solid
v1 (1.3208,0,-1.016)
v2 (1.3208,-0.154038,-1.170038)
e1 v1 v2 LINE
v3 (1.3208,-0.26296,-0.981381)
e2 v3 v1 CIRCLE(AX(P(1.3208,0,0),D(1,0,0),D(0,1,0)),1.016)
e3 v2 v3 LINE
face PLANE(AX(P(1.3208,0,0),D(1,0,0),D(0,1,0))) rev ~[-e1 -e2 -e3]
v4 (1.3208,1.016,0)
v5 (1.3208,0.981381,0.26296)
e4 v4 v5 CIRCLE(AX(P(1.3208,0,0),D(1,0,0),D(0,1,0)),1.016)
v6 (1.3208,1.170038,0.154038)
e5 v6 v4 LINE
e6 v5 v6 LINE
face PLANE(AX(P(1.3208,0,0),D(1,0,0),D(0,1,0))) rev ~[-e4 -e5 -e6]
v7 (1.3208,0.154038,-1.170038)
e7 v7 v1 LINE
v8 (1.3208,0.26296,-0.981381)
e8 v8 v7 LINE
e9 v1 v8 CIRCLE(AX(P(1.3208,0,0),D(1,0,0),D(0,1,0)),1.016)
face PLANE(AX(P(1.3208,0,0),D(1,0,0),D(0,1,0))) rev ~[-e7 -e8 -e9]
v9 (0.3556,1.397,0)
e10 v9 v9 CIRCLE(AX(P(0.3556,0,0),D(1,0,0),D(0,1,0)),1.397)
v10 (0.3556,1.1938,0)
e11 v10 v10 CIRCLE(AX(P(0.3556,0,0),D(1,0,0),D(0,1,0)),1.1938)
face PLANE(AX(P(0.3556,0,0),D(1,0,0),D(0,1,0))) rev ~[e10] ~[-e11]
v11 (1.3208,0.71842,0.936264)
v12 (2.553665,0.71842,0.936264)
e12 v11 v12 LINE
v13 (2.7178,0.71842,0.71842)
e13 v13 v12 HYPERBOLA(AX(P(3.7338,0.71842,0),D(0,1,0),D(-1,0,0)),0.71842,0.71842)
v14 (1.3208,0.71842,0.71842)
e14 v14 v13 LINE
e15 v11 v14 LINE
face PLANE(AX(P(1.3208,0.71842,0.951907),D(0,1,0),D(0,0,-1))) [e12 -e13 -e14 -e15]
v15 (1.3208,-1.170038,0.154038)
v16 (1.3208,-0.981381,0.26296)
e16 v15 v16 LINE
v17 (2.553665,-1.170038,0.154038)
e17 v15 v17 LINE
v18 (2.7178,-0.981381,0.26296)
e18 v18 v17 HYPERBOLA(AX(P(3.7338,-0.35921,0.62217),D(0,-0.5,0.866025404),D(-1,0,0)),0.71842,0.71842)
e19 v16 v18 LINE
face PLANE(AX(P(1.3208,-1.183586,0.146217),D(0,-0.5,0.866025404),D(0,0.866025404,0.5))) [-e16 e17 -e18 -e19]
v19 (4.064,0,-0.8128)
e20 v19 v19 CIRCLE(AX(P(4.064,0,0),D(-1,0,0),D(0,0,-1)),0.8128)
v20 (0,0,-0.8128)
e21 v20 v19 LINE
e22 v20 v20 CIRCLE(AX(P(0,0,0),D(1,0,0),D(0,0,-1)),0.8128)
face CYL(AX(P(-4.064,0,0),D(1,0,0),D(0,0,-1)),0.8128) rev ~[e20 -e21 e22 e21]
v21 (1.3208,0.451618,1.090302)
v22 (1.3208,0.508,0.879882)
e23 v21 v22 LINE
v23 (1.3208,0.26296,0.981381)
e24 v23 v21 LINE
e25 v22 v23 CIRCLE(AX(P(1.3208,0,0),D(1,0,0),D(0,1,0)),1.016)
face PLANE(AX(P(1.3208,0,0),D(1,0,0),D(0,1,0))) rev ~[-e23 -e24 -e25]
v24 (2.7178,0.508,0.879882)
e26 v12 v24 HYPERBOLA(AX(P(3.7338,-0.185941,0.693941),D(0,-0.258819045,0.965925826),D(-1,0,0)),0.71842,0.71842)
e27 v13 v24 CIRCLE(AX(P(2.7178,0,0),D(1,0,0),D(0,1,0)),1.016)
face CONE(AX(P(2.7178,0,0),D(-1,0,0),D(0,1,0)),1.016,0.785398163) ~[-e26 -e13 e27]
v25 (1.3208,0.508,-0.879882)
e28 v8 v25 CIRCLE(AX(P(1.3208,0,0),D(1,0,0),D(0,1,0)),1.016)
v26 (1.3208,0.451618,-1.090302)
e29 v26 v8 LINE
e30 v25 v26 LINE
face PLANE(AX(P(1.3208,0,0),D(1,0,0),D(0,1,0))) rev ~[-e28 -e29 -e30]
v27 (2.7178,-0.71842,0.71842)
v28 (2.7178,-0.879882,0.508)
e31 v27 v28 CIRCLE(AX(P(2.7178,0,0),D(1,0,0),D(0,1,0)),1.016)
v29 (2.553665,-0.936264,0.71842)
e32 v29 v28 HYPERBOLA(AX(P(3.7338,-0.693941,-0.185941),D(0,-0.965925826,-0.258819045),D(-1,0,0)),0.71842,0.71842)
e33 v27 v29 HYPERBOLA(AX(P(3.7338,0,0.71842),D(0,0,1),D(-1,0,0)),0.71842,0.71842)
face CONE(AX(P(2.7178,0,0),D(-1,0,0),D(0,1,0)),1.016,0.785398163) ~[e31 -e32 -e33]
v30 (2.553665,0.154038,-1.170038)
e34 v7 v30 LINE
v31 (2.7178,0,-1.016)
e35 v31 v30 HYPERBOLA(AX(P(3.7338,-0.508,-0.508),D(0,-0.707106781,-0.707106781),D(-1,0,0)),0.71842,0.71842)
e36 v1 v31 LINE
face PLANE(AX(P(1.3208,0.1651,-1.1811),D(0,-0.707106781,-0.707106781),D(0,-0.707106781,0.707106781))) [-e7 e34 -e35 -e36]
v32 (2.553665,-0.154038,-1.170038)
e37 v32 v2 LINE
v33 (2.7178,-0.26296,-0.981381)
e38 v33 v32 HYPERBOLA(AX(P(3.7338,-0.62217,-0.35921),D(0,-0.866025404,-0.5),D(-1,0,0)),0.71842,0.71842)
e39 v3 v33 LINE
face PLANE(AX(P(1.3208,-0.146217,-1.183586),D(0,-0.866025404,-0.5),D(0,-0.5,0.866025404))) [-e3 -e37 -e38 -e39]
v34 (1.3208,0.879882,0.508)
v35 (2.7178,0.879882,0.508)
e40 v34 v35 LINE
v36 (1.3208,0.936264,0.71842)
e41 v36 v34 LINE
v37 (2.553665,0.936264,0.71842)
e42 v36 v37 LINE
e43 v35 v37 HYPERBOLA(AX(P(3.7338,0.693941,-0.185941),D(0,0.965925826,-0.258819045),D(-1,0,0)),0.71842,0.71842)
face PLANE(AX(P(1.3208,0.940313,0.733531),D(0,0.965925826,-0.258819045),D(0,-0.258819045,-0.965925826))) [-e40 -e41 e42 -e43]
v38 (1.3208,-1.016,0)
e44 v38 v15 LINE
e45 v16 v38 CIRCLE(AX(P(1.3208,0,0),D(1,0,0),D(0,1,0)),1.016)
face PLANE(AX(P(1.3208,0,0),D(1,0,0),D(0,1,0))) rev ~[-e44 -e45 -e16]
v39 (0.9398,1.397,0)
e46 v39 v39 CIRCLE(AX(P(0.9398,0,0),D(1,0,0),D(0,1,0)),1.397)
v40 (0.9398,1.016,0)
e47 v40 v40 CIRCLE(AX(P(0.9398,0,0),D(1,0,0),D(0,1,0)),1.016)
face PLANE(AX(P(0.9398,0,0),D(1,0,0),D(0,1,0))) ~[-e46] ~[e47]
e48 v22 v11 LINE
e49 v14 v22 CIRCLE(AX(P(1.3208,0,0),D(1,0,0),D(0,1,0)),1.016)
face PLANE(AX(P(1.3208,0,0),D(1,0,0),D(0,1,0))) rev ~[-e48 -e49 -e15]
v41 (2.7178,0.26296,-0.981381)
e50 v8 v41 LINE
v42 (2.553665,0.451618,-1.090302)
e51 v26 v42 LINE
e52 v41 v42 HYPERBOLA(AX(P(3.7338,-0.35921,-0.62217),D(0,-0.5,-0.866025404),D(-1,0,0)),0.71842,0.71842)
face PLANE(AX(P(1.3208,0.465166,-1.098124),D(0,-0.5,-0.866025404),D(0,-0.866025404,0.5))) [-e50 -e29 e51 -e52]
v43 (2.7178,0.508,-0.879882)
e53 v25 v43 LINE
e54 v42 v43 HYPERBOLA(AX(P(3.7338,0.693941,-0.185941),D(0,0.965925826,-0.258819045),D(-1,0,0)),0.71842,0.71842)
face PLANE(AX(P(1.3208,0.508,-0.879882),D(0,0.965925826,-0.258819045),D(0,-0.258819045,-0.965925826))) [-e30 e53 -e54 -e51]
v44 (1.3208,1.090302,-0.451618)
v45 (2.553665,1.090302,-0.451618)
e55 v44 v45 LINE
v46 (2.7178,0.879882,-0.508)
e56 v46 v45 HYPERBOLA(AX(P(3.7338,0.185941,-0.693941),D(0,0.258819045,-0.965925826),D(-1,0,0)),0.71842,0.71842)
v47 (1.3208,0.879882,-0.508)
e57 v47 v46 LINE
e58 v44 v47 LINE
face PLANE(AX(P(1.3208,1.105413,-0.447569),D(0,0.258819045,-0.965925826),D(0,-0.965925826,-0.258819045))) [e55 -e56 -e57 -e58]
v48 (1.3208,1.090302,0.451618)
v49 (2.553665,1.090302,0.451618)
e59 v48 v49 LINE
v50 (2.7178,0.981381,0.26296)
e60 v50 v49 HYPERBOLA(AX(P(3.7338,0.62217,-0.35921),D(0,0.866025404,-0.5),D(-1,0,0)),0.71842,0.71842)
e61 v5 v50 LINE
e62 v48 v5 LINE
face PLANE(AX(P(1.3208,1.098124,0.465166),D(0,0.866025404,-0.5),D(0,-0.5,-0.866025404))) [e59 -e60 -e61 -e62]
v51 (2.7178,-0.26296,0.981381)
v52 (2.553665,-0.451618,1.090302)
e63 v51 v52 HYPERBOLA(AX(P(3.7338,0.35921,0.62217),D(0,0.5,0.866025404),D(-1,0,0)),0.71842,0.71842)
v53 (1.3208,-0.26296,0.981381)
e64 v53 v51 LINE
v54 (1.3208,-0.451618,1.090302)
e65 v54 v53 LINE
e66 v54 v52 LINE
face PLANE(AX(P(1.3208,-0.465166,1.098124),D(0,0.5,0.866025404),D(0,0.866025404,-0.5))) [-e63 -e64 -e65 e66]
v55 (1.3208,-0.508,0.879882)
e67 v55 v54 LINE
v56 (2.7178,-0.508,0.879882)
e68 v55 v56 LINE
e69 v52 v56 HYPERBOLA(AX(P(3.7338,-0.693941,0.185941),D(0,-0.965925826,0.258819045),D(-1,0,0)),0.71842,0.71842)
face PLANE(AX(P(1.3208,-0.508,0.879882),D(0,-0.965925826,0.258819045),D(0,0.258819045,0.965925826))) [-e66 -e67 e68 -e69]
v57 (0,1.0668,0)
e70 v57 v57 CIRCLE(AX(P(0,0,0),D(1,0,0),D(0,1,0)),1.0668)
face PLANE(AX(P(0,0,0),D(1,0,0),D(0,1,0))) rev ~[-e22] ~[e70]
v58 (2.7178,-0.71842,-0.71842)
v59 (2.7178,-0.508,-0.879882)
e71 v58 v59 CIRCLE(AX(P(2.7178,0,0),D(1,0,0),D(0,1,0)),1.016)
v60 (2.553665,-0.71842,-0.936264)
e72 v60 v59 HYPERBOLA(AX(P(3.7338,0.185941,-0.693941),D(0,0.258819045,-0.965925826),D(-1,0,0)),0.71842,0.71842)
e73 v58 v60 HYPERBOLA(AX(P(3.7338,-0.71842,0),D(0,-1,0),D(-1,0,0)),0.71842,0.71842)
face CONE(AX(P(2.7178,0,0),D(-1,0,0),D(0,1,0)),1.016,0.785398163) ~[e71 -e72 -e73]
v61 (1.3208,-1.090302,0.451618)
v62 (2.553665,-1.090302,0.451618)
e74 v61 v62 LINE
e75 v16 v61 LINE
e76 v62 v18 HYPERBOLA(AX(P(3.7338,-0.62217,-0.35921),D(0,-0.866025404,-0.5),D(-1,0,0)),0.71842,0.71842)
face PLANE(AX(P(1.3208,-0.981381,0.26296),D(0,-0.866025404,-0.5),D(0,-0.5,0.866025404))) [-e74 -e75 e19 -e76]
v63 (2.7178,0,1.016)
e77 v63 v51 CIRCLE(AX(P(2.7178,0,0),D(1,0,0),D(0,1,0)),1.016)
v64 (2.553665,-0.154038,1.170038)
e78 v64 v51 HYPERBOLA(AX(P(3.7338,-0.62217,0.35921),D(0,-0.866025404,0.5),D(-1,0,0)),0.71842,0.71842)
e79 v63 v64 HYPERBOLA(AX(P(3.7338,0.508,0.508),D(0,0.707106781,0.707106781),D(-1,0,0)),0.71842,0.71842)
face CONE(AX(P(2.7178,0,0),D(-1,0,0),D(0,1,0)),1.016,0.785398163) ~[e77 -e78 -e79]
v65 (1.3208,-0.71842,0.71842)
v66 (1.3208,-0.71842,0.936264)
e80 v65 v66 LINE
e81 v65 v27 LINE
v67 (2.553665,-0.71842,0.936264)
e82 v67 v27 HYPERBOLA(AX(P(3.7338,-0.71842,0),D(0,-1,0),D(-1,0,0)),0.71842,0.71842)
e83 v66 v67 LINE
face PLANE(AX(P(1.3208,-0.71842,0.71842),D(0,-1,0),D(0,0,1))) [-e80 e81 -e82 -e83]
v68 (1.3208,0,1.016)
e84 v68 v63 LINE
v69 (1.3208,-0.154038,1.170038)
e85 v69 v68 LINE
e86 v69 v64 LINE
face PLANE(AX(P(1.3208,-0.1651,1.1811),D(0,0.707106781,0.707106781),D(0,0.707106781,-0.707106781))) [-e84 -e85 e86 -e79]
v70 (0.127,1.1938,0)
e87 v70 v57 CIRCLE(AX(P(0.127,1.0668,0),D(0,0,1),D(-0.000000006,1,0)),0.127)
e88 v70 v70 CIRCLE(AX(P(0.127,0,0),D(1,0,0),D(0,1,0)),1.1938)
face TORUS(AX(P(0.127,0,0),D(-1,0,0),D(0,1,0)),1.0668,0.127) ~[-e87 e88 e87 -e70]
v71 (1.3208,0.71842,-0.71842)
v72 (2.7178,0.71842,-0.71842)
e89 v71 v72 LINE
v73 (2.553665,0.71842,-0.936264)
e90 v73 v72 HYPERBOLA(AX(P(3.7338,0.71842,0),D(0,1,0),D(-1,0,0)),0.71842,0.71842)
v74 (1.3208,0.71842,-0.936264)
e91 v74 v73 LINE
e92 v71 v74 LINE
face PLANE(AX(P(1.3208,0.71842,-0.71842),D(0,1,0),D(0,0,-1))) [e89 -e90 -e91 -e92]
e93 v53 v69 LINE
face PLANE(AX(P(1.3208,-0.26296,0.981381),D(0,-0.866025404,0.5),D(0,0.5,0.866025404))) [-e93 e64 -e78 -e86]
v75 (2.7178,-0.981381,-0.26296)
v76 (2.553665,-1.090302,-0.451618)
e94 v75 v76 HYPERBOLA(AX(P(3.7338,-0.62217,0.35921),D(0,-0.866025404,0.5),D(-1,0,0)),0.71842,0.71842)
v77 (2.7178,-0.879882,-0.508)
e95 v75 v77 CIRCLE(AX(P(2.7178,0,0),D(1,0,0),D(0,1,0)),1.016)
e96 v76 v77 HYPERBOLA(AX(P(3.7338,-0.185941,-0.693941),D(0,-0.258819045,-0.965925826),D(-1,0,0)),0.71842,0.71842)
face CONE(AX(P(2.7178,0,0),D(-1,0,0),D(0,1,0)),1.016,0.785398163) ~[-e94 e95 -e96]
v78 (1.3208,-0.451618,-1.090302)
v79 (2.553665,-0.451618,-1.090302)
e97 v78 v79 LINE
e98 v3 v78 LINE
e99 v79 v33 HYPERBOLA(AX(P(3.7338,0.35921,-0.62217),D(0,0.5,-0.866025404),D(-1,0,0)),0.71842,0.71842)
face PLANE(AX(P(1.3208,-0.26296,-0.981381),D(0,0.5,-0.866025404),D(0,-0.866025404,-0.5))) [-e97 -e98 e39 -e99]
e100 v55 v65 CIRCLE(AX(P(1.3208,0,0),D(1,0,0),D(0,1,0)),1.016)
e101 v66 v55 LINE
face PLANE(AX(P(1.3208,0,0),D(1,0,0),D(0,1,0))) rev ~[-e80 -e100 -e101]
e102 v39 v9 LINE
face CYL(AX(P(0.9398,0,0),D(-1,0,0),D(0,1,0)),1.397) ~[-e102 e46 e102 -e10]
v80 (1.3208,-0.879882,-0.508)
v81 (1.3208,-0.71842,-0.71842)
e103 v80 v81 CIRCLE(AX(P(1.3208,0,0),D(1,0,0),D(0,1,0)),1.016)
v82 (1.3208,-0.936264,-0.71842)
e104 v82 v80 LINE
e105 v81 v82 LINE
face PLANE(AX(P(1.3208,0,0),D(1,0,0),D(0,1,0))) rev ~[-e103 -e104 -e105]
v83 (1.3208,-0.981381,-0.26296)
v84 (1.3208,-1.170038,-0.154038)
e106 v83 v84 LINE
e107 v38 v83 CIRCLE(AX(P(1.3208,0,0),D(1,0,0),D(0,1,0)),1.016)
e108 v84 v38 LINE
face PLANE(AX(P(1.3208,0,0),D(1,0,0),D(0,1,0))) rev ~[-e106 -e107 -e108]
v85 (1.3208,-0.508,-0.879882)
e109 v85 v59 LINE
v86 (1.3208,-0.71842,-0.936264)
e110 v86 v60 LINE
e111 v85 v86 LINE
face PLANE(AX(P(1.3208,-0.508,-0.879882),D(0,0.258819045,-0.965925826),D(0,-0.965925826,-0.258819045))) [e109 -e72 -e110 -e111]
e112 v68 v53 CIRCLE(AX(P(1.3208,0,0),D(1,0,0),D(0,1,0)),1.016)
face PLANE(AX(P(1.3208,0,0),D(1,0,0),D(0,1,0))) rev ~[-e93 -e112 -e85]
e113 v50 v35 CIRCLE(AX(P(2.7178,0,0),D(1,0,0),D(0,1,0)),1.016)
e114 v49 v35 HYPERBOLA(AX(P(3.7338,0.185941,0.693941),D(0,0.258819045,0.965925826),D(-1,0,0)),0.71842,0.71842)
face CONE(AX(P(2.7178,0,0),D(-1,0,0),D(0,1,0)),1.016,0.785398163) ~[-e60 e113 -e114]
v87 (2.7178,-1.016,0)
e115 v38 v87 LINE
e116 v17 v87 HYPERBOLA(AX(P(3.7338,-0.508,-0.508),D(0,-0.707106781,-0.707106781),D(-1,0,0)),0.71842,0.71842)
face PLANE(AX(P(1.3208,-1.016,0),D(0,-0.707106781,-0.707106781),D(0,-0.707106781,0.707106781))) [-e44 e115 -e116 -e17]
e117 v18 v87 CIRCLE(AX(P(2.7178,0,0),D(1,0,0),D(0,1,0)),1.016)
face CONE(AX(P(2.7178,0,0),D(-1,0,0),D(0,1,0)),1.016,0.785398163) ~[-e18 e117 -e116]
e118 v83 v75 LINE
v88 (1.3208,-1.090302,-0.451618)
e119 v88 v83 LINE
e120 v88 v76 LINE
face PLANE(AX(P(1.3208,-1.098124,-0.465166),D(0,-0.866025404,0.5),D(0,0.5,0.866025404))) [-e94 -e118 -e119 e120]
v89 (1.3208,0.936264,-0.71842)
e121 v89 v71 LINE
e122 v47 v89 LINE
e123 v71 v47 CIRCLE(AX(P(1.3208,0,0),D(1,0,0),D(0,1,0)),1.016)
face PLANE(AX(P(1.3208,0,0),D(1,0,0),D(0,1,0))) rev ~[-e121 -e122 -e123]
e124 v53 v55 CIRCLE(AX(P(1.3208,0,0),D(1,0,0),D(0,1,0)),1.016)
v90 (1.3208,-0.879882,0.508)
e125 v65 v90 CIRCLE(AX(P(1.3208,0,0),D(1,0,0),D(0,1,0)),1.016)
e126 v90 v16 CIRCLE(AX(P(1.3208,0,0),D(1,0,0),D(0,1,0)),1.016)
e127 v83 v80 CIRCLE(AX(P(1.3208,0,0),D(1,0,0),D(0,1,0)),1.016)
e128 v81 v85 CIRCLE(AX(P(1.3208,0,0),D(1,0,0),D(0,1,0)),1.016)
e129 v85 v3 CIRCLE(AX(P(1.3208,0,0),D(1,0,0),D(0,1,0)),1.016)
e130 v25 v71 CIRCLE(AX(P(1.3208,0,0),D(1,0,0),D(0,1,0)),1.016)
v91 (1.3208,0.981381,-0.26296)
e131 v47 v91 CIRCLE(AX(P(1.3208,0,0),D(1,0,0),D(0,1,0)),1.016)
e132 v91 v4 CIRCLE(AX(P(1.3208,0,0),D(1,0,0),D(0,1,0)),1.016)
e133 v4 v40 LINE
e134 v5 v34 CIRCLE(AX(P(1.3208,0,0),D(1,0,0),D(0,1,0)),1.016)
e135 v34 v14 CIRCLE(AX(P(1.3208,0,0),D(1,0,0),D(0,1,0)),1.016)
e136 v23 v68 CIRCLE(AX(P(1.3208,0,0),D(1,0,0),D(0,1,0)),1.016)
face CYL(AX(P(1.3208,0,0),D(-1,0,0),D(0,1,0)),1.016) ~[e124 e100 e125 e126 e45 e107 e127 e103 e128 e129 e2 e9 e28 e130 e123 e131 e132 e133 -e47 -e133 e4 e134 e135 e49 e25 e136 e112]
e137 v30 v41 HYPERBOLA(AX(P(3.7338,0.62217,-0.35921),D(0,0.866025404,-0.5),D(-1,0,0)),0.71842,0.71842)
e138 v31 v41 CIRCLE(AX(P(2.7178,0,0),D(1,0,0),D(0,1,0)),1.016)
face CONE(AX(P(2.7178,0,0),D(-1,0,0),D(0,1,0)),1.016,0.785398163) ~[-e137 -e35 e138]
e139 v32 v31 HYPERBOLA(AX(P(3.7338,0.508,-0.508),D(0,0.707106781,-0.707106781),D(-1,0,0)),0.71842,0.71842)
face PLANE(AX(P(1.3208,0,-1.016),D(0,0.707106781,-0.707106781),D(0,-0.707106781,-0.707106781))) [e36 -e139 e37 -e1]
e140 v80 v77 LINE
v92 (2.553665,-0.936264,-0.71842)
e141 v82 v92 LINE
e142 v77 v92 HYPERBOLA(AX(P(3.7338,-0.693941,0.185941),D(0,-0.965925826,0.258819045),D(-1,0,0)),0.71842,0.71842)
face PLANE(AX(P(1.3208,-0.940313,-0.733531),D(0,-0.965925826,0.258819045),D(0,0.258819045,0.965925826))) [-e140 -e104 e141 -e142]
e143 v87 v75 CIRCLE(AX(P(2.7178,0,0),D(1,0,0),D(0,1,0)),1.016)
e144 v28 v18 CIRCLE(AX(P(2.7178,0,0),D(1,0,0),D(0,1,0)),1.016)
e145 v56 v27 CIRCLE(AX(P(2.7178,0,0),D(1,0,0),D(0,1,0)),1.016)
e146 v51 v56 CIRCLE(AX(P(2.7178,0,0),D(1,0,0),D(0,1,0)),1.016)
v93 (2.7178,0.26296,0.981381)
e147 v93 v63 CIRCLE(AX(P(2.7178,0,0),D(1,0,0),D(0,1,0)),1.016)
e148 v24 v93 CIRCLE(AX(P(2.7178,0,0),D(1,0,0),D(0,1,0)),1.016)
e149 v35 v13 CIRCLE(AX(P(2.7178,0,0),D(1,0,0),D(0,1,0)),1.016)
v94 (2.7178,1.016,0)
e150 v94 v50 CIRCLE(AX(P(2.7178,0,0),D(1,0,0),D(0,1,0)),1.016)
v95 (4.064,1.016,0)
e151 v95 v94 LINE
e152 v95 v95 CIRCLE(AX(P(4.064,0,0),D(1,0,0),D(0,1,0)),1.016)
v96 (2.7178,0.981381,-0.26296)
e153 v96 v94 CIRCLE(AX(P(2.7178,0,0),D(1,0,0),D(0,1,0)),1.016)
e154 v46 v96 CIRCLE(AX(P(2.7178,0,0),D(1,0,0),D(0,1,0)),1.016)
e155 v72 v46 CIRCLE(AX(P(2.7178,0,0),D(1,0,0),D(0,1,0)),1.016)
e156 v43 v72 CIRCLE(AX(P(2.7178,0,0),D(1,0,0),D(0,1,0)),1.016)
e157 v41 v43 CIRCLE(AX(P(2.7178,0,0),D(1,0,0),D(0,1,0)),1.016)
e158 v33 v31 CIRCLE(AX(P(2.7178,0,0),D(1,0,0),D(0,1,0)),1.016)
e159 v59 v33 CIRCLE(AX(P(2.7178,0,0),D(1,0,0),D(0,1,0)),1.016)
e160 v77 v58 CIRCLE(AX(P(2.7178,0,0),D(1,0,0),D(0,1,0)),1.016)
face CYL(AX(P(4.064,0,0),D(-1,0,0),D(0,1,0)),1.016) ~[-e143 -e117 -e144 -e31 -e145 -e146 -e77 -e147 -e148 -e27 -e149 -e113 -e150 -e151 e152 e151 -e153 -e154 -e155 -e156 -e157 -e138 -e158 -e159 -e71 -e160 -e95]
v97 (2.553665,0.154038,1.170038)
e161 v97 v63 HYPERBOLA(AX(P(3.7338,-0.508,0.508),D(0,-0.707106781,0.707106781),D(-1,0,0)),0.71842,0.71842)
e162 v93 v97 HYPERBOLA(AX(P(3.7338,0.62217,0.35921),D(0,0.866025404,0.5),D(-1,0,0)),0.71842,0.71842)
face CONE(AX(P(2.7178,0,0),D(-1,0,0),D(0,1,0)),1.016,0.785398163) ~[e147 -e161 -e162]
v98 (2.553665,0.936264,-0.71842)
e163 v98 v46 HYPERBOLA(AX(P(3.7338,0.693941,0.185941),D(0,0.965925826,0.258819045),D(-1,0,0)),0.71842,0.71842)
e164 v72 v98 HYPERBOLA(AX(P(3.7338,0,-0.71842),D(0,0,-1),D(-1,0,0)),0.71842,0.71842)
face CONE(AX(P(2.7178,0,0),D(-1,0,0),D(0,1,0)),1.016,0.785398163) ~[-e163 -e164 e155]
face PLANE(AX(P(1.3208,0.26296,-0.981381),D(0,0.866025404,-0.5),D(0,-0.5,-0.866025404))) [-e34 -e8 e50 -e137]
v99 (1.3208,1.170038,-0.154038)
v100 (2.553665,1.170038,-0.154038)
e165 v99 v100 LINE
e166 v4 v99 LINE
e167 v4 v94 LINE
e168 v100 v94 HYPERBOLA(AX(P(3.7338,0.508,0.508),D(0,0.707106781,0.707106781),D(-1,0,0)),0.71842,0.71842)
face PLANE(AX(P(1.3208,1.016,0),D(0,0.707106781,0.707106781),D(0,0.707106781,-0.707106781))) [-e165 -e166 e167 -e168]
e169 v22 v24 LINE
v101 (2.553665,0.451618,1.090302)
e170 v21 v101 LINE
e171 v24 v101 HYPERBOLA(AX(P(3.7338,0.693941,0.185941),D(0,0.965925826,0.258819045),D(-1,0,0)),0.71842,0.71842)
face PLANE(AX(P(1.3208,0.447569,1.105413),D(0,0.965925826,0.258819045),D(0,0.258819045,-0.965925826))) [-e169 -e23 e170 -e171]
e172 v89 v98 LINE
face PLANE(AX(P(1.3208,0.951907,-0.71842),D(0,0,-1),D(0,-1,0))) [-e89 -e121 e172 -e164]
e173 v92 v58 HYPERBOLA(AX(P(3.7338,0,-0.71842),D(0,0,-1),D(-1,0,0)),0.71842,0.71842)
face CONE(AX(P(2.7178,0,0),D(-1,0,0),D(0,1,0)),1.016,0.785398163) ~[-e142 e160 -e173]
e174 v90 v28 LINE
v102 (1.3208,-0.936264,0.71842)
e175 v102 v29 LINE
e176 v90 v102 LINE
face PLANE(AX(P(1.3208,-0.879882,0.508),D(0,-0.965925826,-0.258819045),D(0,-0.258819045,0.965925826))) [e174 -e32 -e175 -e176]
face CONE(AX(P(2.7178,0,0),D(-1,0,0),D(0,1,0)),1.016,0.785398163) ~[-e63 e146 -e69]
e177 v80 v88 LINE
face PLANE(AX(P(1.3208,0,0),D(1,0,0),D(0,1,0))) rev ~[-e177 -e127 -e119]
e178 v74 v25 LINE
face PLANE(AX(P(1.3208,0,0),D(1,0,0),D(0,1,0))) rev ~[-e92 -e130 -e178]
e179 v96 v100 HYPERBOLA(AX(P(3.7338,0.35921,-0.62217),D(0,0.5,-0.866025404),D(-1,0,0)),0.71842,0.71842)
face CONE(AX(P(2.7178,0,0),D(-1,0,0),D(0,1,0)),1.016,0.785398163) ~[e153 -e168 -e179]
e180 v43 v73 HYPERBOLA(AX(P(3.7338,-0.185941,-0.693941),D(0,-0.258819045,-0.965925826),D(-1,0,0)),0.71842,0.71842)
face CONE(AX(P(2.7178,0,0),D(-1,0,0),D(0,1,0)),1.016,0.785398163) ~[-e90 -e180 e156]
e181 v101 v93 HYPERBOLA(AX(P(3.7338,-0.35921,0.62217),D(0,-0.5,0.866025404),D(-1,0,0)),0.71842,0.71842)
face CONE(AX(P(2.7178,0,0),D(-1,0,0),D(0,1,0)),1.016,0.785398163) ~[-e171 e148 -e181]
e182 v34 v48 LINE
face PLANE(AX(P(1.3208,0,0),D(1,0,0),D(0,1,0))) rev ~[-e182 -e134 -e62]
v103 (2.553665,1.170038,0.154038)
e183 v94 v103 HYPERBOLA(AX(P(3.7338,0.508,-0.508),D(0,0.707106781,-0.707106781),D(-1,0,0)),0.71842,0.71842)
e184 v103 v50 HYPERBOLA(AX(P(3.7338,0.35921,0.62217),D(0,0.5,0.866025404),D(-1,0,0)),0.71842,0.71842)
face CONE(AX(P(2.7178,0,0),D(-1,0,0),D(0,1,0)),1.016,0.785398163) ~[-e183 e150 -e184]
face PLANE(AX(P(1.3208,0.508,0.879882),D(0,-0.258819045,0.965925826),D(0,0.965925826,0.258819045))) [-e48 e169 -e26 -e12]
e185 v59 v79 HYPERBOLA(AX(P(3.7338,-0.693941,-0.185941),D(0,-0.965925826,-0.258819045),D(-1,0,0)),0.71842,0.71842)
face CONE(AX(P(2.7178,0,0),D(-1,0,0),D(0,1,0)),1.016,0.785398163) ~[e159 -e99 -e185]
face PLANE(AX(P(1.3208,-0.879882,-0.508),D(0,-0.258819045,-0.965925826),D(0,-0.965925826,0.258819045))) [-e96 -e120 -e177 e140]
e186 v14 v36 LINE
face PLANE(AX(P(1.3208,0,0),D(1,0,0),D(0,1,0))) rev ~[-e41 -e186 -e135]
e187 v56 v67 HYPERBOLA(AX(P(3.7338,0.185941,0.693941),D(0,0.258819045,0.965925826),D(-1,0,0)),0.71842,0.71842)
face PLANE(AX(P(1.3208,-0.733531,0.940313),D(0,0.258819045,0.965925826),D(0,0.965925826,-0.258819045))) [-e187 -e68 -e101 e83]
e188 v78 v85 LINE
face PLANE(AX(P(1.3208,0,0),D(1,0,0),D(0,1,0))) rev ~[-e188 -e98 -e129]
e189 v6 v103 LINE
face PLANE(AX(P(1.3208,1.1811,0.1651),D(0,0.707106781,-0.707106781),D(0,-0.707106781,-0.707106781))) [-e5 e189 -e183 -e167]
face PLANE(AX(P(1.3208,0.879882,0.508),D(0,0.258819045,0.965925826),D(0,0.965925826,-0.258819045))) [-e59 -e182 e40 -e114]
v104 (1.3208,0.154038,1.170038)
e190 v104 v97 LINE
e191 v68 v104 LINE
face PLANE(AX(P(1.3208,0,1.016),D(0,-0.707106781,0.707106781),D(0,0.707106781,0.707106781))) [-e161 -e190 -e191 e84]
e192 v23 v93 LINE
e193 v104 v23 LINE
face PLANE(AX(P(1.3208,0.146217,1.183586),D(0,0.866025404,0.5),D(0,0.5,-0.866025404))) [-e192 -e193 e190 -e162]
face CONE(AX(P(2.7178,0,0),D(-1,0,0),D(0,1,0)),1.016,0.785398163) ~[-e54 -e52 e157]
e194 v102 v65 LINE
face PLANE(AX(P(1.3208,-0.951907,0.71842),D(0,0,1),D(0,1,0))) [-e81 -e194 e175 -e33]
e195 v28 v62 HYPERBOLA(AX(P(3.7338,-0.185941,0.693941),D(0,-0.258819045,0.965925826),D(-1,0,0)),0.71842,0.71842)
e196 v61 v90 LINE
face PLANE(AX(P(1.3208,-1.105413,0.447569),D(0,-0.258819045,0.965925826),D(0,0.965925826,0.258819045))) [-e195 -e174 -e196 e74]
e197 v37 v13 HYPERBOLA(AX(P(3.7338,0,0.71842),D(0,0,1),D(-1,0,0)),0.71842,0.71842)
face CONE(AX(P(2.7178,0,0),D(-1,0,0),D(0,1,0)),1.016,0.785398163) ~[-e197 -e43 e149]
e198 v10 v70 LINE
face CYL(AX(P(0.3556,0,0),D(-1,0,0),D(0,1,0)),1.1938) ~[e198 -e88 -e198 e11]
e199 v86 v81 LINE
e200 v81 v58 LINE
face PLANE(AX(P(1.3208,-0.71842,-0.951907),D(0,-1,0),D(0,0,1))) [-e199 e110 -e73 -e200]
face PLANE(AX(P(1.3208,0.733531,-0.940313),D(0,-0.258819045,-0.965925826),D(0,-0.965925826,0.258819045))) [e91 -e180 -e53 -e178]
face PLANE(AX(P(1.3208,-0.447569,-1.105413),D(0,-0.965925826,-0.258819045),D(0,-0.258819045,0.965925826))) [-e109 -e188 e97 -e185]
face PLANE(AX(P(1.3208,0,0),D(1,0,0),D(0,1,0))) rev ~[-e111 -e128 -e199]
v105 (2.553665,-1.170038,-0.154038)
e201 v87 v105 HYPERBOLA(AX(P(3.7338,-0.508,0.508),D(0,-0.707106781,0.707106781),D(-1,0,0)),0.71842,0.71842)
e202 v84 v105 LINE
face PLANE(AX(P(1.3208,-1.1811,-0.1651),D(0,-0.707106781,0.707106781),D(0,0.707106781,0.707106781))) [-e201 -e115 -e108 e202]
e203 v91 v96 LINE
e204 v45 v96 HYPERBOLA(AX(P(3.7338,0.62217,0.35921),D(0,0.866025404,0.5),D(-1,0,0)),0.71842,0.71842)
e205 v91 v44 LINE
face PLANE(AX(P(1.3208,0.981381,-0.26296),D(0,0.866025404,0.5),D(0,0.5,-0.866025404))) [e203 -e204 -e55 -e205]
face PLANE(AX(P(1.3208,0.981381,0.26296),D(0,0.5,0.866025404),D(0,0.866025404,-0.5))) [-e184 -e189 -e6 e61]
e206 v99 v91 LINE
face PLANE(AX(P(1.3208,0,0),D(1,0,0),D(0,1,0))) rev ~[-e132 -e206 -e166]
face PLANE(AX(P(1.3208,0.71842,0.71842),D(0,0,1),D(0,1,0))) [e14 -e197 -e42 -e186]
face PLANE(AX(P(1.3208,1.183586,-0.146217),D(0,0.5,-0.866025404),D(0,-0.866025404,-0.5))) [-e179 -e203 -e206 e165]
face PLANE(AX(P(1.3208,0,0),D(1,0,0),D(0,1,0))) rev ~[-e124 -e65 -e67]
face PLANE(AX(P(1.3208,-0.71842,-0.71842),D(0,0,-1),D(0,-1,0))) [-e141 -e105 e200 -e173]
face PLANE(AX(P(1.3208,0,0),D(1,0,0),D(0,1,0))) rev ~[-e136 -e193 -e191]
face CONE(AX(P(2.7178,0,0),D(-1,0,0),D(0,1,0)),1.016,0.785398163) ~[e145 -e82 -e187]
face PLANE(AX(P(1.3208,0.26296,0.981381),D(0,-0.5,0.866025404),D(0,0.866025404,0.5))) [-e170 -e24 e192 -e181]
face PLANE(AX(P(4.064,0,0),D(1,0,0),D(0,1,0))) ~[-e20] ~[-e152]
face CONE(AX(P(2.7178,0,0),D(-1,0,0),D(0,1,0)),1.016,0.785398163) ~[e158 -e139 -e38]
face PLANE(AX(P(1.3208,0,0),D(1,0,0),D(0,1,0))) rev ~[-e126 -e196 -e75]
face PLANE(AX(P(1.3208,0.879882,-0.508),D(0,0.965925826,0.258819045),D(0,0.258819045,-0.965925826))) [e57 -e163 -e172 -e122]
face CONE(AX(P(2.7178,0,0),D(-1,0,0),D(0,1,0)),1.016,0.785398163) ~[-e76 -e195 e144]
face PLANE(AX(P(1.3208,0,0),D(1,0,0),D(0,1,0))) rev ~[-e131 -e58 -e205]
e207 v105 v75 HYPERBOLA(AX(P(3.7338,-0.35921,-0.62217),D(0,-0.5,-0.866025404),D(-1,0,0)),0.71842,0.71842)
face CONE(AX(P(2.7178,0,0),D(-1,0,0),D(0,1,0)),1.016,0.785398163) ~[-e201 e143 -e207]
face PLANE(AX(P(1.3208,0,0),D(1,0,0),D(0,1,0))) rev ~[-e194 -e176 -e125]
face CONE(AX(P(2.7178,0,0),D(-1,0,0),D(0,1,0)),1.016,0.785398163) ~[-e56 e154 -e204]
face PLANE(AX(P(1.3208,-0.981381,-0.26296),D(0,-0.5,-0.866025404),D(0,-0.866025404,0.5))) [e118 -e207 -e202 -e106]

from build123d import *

# Parameters (mm, degrees)
HOLE1_D               = 1.6256
HOLE1_DEPTH           = 4.064
HOLE1_TIP             = 0.488379511
EXTRUSIONBLIND1_DEPTH = 1.397
POLAR_PATTERN1_COUNT  = 24


with BuildPart() as part:
    # Sketch1 → RevolutionAngle1 (revolve)
    with BuildSketch(Plane.XY):
        with BuildLine():
            Line((4.064, 0), (4.064, 1.016))
            Line((4.064, 1.016), (2.7178, 1.016))
            Line((2.7178, 1.016), (2.5527, 1.1811))
            Line((2.5527, 1.1811), (1.3208, 1.1811))
            Line((1.3208, 1.1811), (1.3208, 1.016))
            Line((1.3208, 1.016), (0.9398, 1.016))
            Line((0.9398, 1.016), (0.9398, 1.397))
            Line((0.9398, 1.397), (0.3556, 1.397))
            Line((0.3556, 1.397), (0.3556, 1.1938))
            Line((0.3556, 1.1938), (0.127, 1.1938))
            ThreePointArc((0.127, 1.1938), (0.037197439, 1.156602561), (0, 1.0668))
            Line((0, 1.0668), (0, 0))
            Line((0, 0), (4.064, 0))
        make_face()
    revolve(axis=Axis((0, 0, 0), (1, 0, 0)))

    # Hole1
    with Locations(Plane.ZY):
        with Locations((0, 0)):
            Hole(HOLE1_D / 2, depth=HOLE1_DEPTH)
            with Locations((0, 0, -(HOLE1_DEPTH + HOLE1_TIP / 2))):  # 118° drill point
                Cone(0, HOLE1_D / 2, HOLE1_TIP, mode=Mode.SUBTRACT)

    # Sketch4 → ExtrusionBlind1 (cut)
    with BuildSketch(Plane.ZY.offset(-1.3208)):
        Polygon((-1.016, 0), (-1.1811, -0.1651), (-1.1811, 0.1651), align=None)
    extrusionblind1 = extrude(amount=-EXTRUSIONBLIND1_DEPTH, mode=Mode.SUBTRACT)

    # Polar Pattern1: ExtrusionBlind1 ×24 about axis
    polar_pattern1_axis = Axis((0, 0, 0), (1, 0, 0))
    for i in range(1, POLAR_PATTERN1_COUNT):
        add(extrusionblind1.rotate(polar_pattern1_axis, i * 360 / POLAR_PATTERN1_COUNT), mode=Mode.SUBTRACT)


solid = part.part
